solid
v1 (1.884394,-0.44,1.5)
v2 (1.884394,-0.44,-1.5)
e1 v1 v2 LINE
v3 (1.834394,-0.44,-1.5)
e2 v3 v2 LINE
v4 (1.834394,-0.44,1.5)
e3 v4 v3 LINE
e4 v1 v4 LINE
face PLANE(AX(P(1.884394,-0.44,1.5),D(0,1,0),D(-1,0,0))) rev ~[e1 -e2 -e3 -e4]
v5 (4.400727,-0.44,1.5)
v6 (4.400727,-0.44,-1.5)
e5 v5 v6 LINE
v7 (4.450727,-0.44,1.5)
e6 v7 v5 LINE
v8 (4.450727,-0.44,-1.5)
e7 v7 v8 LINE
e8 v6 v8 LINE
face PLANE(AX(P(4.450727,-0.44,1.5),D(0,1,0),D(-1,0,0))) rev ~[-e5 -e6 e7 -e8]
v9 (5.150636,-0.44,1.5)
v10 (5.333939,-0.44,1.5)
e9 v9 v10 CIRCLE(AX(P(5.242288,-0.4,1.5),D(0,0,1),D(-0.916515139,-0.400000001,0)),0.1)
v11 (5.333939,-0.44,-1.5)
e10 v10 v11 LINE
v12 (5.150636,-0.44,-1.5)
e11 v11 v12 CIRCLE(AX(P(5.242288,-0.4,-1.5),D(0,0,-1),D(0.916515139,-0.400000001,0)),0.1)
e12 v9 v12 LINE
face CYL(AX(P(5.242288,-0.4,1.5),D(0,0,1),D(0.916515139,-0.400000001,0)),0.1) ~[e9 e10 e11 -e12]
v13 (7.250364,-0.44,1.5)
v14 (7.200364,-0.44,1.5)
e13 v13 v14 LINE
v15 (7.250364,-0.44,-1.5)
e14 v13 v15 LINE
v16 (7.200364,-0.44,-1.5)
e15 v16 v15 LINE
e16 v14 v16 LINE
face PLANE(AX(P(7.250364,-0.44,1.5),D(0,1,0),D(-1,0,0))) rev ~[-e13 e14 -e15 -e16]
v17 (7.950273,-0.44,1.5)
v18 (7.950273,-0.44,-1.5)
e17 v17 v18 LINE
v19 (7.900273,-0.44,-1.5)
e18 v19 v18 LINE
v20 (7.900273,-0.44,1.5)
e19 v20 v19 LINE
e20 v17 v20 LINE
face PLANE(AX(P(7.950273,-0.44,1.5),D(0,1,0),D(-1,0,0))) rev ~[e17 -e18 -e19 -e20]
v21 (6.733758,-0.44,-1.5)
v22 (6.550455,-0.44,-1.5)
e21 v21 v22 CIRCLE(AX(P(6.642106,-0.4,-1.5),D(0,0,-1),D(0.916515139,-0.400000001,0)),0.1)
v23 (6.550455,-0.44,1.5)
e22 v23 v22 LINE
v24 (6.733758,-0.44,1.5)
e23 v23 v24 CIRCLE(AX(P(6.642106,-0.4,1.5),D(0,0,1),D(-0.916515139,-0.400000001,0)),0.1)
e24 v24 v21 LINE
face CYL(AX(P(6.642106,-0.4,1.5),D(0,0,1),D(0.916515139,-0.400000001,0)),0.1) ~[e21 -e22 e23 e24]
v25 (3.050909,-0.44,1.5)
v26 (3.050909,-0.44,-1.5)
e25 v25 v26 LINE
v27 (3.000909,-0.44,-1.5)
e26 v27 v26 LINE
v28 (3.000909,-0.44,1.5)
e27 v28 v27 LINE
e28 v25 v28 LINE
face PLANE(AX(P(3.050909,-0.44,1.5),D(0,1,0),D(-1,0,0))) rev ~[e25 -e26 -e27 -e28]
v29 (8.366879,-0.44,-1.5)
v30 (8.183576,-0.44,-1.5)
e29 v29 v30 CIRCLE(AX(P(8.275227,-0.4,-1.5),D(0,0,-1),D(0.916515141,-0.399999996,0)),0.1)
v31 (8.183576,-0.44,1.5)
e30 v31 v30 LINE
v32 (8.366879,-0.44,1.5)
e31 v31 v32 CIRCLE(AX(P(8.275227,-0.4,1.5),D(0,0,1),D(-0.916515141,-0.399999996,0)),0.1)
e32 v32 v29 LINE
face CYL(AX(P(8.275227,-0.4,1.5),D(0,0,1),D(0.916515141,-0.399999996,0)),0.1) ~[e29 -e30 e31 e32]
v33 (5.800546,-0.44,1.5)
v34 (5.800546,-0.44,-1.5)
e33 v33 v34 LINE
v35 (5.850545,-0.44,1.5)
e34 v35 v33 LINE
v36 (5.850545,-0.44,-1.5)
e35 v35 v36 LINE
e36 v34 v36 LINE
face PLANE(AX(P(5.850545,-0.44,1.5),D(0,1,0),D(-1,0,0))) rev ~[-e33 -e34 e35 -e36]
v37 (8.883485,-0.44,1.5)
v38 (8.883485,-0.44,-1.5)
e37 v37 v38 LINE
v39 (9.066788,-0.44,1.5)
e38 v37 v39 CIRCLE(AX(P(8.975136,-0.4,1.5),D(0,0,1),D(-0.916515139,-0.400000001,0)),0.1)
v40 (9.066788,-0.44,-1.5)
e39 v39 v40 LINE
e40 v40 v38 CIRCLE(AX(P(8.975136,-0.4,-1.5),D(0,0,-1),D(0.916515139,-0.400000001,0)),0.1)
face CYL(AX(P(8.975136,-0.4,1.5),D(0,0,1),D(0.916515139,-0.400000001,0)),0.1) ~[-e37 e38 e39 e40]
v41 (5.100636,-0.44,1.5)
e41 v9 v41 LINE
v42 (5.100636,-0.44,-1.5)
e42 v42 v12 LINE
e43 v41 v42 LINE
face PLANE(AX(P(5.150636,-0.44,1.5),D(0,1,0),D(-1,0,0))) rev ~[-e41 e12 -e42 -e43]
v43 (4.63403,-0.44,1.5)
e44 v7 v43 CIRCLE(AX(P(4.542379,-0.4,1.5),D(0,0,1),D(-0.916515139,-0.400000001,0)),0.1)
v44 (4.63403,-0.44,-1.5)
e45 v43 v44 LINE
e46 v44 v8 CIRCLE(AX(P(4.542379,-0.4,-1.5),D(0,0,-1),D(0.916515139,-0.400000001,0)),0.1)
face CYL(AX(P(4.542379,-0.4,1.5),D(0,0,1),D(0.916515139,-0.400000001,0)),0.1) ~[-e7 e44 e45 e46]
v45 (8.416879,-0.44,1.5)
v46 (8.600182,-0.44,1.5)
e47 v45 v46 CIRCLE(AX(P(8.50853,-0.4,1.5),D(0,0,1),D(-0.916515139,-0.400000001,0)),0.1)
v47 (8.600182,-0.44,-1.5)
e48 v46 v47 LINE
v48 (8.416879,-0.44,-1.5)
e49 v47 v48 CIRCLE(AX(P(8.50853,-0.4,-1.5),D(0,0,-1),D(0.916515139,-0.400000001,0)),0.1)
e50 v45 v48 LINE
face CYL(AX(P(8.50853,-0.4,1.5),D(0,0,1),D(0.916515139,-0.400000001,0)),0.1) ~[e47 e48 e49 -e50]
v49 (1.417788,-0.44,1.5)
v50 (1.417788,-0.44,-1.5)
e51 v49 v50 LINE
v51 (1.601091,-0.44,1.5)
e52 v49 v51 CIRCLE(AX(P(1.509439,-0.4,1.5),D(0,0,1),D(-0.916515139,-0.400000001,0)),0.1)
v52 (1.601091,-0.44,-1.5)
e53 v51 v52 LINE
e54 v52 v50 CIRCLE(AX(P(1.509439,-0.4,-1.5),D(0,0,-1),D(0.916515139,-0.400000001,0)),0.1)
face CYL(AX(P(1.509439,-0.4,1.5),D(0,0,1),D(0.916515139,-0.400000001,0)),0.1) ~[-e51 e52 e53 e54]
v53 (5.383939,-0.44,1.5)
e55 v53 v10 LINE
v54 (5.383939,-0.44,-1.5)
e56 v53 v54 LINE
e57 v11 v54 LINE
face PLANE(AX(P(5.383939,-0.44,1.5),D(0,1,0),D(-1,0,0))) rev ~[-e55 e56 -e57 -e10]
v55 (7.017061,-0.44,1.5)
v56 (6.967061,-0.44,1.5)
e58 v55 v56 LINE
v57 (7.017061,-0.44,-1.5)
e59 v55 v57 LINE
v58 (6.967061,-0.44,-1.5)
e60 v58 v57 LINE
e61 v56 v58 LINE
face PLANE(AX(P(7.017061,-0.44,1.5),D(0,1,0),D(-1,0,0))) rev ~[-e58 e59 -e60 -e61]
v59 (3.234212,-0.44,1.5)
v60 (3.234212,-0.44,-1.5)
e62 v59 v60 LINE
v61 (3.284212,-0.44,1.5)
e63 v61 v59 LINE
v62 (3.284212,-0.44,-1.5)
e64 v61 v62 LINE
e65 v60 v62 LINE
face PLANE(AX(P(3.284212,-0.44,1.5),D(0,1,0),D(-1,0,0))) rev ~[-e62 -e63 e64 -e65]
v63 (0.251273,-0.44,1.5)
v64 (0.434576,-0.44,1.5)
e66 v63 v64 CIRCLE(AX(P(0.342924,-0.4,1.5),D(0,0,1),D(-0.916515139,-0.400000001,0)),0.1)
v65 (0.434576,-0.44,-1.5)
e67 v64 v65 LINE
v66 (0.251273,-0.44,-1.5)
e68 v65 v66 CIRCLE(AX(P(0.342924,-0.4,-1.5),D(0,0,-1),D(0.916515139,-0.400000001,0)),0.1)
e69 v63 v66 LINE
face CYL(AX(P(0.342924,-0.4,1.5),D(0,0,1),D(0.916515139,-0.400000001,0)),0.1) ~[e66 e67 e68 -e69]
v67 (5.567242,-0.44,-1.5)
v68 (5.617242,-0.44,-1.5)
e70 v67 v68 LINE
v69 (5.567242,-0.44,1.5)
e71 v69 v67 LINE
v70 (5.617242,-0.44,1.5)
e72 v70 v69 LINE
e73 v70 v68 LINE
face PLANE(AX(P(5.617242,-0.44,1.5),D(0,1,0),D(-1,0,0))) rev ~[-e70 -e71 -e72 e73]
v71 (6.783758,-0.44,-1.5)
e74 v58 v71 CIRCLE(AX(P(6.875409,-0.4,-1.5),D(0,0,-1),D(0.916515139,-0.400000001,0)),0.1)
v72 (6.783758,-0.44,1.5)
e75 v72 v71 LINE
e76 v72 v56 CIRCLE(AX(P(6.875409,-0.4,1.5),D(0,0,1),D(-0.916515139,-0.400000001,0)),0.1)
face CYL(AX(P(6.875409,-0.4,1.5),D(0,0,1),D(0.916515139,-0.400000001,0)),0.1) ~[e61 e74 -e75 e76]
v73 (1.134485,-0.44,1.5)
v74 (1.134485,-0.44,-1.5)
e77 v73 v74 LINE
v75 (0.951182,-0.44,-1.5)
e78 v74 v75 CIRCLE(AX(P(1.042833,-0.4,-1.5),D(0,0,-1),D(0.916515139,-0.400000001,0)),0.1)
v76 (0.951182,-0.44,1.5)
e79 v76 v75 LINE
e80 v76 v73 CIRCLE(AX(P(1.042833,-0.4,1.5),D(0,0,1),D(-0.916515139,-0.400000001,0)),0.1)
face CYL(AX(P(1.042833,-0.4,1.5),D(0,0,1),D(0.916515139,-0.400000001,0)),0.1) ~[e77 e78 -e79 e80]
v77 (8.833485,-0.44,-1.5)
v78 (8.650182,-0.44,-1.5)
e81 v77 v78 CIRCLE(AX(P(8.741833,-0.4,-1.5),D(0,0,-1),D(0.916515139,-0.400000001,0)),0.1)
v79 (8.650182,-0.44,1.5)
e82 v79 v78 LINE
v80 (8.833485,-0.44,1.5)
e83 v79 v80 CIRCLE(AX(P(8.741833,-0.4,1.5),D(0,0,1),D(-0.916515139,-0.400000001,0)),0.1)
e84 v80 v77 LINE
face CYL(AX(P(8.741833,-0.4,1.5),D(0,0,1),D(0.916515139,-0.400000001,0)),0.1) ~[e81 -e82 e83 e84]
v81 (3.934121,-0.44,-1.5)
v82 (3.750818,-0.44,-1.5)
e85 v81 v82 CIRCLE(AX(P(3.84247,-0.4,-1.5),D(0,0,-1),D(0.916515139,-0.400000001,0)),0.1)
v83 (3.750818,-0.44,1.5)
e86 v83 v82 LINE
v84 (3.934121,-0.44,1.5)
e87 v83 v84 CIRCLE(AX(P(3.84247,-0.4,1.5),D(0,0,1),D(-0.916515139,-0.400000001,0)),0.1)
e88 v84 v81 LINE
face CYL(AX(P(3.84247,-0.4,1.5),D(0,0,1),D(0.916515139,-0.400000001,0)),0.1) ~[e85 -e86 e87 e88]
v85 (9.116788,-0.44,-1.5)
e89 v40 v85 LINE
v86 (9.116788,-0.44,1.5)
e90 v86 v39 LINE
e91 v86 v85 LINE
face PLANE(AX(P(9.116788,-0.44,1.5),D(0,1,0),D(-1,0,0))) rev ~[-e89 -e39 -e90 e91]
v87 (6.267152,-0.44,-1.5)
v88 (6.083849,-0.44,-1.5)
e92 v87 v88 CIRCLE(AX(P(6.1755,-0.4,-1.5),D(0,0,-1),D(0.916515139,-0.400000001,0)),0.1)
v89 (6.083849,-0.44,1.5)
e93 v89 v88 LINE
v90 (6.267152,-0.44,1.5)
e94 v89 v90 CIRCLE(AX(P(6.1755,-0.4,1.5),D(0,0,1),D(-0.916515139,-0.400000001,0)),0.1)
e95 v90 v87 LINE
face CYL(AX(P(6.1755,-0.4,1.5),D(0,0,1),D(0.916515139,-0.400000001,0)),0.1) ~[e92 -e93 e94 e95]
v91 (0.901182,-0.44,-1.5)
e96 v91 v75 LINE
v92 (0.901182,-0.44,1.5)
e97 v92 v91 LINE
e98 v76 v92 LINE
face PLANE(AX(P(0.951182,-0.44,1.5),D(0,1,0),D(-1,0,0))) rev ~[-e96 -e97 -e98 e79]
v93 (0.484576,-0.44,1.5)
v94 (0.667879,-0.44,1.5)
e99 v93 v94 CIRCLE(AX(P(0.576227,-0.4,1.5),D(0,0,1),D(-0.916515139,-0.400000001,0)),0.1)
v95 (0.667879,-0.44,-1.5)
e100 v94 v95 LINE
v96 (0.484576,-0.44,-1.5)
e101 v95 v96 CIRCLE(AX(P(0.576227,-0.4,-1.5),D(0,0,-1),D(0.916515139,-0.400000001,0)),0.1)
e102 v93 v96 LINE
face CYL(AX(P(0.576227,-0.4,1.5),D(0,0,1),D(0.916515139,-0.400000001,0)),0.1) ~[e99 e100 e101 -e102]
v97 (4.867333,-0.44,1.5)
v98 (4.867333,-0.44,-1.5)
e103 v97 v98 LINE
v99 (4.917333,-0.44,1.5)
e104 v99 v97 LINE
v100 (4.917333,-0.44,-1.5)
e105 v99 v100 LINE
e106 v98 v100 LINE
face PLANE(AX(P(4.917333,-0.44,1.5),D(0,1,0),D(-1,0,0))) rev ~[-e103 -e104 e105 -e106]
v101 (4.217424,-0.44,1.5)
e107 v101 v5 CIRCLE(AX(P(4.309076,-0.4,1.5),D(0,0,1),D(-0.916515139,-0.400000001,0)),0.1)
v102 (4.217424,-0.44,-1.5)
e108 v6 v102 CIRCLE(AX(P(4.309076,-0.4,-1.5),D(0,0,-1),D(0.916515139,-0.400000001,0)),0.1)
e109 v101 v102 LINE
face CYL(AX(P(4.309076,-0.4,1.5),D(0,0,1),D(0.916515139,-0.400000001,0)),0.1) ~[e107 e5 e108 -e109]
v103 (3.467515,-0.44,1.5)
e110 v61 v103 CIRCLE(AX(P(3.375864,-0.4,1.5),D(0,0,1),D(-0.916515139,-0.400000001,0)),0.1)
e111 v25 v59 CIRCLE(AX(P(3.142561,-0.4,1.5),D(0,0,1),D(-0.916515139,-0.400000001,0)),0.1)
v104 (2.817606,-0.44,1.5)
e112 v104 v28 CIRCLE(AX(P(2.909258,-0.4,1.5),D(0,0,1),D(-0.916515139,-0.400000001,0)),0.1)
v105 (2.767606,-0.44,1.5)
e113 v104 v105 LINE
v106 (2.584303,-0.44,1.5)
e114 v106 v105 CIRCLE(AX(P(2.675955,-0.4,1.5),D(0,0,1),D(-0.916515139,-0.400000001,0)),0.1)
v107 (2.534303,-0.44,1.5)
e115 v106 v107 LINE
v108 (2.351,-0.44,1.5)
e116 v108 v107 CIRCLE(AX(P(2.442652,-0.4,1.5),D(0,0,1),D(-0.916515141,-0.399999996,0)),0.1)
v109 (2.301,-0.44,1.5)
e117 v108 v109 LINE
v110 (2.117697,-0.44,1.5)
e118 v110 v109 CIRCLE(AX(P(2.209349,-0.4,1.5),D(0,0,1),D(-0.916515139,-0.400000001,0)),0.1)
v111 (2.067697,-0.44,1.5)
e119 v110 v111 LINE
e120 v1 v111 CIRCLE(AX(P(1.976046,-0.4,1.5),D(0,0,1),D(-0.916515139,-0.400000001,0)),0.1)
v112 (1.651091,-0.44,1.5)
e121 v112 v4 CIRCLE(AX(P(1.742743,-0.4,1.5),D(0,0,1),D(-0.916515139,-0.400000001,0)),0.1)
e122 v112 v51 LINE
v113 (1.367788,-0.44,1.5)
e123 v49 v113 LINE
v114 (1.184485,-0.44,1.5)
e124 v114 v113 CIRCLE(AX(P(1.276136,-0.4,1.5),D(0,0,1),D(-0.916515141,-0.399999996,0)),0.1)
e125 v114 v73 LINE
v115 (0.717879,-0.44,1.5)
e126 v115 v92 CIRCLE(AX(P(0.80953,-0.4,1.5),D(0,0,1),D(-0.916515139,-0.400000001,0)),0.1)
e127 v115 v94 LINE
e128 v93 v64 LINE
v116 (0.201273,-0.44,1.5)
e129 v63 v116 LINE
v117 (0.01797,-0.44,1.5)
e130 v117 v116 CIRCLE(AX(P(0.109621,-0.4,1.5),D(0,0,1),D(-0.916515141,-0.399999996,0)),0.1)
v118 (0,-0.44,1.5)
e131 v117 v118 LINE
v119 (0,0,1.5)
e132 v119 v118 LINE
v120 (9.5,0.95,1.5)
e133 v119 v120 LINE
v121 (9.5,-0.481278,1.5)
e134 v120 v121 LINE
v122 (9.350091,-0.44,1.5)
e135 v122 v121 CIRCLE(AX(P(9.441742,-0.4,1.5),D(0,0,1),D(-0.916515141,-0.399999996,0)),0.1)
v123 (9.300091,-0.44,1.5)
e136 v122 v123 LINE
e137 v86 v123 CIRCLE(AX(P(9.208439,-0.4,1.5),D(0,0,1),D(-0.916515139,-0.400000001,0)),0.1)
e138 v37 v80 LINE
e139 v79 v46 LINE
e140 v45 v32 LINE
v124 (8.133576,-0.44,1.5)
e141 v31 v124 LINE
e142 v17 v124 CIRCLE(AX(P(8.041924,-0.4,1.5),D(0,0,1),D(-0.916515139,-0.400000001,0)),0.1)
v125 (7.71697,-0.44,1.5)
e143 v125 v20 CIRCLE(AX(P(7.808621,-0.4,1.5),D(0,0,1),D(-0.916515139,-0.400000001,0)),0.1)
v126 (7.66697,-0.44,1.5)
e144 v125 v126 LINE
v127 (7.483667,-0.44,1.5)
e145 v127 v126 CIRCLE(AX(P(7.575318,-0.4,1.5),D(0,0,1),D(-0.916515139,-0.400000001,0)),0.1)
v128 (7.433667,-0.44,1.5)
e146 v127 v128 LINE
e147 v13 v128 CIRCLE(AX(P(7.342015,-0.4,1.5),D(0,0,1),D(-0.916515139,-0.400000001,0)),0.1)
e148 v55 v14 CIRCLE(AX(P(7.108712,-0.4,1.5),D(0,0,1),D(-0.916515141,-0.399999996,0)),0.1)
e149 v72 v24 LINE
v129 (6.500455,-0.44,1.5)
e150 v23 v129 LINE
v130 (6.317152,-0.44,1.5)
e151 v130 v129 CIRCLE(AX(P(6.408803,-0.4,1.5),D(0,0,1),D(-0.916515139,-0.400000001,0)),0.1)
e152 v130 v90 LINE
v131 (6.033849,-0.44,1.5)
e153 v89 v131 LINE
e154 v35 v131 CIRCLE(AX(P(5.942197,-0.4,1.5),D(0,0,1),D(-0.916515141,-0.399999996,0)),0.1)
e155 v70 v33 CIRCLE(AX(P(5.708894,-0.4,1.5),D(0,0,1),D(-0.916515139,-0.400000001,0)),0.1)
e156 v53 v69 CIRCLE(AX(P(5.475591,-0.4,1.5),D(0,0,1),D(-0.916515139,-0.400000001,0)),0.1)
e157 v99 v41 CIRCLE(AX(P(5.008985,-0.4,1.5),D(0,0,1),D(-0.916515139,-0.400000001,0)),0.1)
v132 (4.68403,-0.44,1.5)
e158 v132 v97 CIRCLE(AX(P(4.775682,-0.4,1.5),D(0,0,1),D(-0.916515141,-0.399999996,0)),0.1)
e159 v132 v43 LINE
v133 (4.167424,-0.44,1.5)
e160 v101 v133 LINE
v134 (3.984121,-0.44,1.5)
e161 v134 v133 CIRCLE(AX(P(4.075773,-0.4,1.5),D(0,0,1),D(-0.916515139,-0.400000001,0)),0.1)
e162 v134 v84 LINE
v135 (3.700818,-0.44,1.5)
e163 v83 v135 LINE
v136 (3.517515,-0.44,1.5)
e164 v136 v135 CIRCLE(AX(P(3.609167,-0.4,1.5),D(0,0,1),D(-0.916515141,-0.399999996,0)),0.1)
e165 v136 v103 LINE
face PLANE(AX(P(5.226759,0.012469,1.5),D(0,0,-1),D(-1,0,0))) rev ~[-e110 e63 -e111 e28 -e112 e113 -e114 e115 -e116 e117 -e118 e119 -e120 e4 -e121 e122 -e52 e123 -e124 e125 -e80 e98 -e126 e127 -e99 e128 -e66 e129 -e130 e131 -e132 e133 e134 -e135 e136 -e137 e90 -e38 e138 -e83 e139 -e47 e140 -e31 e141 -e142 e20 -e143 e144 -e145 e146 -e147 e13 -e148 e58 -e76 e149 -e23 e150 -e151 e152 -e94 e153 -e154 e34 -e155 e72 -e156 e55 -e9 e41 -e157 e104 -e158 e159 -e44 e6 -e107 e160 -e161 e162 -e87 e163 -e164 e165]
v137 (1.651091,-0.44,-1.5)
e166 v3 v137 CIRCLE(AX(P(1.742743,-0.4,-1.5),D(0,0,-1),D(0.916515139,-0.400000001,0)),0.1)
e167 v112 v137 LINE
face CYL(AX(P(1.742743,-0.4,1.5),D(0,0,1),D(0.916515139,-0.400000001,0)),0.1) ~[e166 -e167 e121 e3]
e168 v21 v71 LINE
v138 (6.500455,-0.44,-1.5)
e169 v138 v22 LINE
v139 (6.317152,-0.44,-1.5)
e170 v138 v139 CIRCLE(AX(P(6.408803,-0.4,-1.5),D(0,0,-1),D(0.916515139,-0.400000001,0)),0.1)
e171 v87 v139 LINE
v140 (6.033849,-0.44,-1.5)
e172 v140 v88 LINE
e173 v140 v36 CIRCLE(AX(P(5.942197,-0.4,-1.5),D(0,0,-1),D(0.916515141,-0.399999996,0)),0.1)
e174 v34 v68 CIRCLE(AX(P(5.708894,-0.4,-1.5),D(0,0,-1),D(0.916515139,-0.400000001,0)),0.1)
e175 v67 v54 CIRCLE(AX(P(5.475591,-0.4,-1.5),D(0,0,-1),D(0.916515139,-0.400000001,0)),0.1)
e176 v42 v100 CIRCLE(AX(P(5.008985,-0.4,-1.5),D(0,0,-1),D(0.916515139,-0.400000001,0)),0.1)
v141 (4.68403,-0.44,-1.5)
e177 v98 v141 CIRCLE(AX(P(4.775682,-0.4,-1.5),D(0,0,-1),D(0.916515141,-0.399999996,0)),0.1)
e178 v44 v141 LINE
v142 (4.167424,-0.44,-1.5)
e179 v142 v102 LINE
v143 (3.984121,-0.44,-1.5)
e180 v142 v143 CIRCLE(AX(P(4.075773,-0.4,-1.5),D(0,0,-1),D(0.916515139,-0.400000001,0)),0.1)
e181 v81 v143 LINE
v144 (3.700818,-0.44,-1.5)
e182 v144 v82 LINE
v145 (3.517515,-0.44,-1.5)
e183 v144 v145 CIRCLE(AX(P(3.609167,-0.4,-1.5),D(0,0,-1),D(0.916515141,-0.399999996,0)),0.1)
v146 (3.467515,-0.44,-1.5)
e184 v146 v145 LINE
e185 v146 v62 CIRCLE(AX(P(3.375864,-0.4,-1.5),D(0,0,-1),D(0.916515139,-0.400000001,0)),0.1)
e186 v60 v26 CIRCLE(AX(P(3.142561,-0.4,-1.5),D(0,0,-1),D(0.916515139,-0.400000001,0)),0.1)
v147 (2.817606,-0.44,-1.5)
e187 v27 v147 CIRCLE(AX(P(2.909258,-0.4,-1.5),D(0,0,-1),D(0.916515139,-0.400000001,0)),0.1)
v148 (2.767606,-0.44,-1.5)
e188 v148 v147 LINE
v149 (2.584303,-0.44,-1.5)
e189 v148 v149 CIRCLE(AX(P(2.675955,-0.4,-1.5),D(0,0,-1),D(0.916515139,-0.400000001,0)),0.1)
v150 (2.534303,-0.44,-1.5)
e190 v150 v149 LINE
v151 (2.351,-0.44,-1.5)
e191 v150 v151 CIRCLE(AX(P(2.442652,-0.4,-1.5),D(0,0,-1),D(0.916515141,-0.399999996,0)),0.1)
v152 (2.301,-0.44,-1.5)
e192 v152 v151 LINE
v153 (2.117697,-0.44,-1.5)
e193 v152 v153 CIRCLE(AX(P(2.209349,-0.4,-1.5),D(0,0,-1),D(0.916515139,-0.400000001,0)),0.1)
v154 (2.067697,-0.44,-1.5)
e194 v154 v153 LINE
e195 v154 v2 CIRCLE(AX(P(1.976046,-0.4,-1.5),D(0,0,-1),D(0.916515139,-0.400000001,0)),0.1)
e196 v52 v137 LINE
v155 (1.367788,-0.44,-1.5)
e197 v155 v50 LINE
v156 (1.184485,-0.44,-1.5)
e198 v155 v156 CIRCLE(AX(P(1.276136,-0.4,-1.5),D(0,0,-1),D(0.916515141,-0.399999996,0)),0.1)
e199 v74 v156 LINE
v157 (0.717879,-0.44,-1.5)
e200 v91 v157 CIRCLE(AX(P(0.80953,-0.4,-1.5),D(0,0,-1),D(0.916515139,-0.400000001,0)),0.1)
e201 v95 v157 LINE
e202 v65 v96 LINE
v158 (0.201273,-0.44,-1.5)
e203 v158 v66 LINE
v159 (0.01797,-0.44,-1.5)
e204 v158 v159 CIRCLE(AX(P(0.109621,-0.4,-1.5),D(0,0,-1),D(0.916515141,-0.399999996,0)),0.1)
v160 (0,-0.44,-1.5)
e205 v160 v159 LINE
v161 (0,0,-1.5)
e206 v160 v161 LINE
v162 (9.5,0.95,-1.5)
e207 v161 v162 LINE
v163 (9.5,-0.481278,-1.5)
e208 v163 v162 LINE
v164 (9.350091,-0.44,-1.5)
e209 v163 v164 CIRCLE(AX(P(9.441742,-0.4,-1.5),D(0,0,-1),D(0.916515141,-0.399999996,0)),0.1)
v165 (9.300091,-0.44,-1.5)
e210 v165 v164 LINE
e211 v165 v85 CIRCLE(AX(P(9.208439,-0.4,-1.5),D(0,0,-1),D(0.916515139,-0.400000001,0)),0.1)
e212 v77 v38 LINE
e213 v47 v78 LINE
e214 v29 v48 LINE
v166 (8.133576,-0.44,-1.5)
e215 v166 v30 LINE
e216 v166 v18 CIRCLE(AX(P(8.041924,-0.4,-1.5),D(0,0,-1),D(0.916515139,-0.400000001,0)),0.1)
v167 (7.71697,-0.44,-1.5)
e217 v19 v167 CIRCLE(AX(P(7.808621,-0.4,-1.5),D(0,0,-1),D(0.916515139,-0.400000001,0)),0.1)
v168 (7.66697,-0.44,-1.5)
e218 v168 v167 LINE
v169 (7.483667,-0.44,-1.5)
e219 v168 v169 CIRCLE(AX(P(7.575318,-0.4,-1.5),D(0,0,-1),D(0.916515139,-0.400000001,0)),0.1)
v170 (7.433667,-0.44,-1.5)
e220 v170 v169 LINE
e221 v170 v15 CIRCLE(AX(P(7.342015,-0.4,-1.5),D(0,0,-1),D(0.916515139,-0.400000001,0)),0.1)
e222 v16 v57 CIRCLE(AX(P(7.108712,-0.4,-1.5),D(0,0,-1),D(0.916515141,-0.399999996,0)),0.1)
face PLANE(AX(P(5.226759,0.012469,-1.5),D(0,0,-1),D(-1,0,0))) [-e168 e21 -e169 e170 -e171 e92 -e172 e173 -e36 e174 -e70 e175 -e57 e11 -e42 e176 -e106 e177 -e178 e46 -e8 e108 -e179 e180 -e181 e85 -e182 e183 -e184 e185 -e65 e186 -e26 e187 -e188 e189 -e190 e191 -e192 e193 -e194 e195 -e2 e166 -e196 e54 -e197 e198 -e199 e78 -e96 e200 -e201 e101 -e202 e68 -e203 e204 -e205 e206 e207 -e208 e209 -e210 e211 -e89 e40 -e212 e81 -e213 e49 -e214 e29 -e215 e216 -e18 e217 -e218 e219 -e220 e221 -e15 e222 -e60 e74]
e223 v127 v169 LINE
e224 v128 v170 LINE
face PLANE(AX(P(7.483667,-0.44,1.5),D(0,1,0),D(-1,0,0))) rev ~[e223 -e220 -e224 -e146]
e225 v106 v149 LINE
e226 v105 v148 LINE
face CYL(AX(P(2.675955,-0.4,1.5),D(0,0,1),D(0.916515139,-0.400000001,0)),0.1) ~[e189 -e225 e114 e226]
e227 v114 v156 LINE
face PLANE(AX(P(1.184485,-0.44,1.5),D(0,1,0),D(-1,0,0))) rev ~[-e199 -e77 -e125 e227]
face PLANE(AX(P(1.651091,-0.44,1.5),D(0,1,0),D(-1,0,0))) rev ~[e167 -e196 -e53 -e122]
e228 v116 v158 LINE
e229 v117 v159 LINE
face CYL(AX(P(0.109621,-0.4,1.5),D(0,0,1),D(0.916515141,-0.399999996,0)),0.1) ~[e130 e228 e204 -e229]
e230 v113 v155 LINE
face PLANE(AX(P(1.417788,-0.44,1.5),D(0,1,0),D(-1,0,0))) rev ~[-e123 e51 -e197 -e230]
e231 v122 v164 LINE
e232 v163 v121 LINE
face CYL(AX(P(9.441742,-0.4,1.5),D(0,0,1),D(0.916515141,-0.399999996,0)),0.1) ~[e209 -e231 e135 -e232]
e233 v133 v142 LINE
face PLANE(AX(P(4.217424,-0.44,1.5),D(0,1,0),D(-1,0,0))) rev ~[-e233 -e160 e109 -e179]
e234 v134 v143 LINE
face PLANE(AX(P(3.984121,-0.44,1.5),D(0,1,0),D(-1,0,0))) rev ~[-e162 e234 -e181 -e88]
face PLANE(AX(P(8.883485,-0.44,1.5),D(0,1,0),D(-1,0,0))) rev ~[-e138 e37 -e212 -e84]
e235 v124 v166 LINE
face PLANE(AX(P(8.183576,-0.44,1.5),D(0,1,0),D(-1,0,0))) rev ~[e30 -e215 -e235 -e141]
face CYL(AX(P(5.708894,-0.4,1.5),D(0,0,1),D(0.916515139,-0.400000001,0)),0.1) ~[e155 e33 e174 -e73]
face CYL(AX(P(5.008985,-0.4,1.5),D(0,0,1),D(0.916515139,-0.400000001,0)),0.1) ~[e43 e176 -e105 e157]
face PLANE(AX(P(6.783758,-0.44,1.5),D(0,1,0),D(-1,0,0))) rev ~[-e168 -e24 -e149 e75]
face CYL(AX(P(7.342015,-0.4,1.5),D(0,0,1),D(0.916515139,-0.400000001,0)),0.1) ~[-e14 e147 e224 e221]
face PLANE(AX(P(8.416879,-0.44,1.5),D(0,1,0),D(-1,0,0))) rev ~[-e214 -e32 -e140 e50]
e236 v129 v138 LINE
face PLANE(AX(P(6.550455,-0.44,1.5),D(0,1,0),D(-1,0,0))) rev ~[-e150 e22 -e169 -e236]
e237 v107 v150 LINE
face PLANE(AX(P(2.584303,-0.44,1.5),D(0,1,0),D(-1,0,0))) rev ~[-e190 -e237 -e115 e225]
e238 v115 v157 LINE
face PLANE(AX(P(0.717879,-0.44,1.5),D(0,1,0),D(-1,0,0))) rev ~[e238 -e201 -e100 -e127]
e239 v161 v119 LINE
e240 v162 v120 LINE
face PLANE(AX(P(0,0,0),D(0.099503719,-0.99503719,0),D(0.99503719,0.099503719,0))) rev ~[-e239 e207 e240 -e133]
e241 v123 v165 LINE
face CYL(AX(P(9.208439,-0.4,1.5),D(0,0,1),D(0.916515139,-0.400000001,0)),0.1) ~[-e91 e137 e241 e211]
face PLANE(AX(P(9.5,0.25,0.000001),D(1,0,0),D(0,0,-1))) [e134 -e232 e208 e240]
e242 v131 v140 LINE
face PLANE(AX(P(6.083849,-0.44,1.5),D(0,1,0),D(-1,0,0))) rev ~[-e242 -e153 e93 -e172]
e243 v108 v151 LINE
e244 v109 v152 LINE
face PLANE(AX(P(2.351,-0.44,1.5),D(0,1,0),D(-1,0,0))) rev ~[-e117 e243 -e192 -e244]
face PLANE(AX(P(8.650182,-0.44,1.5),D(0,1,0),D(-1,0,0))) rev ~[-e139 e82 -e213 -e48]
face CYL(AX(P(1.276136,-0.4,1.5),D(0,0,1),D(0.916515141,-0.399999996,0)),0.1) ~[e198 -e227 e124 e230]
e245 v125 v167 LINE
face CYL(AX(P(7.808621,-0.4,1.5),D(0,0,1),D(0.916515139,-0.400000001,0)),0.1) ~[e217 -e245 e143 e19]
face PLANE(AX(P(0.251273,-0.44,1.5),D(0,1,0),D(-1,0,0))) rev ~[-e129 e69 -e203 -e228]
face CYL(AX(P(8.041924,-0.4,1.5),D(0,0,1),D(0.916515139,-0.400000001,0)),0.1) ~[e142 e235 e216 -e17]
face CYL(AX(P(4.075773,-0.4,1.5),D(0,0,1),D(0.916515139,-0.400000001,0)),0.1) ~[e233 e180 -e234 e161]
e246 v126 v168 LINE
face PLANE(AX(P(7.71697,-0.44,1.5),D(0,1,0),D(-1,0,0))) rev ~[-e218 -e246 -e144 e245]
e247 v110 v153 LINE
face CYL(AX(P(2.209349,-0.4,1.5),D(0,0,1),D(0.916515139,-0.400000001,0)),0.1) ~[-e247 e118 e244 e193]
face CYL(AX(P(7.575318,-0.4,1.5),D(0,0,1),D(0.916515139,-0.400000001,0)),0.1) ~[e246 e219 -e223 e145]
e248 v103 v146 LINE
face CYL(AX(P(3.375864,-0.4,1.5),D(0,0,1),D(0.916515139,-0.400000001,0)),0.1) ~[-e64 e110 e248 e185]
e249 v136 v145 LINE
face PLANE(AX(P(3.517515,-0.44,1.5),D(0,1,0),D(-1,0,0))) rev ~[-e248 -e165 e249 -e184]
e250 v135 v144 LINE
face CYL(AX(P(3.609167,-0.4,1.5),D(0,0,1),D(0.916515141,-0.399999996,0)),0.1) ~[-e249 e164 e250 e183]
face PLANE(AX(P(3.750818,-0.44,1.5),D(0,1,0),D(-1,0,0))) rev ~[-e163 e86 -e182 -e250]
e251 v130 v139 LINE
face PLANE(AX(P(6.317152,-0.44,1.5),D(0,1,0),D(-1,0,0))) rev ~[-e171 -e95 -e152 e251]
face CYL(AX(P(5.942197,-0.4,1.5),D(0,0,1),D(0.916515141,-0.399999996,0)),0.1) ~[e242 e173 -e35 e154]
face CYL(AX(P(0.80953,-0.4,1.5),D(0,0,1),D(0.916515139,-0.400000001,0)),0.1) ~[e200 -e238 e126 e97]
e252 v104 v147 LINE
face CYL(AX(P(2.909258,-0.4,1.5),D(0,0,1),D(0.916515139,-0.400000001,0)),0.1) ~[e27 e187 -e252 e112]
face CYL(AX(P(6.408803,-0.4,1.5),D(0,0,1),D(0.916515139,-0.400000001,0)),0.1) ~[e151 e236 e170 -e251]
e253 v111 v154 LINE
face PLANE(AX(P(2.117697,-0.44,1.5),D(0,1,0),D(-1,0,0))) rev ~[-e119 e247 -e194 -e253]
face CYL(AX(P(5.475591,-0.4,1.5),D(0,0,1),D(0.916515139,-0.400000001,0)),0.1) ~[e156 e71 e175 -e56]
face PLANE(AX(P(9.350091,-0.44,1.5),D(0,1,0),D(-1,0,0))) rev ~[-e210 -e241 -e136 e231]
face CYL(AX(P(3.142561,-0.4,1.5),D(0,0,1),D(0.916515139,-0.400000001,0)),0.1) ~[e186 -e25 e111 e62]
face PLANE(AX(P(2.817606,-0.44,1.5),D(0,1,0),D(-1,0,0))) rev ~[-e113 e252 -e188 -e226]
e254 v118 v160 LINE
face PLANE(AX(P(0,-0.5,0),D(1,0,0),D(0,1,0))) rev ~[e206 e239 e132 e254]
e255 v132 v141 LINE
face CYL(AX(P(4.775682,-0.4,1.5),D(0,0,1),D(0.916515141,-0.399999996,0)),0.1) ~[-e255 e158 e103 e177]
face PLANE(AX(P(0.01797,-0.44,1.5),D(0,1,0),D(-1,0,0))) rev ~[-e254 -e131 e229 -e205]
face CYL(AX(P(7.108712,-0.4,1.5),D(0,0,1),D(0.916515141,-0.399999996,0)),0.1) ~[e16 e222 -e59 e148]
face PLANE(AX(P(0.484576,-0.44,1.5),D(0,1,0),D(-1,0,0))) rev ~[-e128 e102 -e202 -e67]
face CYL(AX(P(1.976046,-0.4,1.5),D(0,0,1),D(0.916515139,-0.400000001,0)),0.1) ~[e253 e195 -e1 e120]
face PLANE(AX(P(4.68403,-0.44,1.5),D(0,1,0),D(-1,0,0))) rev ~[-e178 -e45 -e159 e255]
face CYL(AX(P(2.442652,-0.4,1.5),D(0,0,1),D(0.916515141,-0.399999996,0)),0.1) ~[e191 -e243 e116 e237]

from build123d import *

# Parameters (mm, degrees)
BOSS_EXTRUDE1_DEPTH     = 1.5
SKETCH2_OUTSIDE_W       = 14.11
SKETCH2_OUTSIDE_H       = 5.61
CUT_EXTRUDE1_DEPTH      = 1
CUT_EXTRUDE1_DEPTH_BACK = 4
CUT_EXTRUDE2_DEPTH      = 0.5


with BuildPart() as part:
    # Sketch1 → Boss-Extrude1 (new body, symmetric)
    with BuildSketch(Plane.XY):
        Polygon((0, 0), (10, 1), (10, -0.5), (0, -0.5), align=None)
    extrude(amount=BOSS_EXTRUDE1_DEPTH, both=True)

    # Sketch2 outside → Cut-Extrude1 (cut, two sides)
    with BuildSketch(Plane.XY.offset(1.5)) as cut_extrude1_sk:
        with Locations((5, 0.25)):
            Rectangle(SKETCH2_OUTSIDE_W, SKETCH2_OUTSIDE_H)
        with BuildLine():
            Line((9.816696972, -0.44), (9.766696972, -0.44))
            ThreePointArc((9.766696972, -0.44), (9.675045458, -0.5), (9.583393944, -0.44))
            Line((9.583393944, -0.44), (9.533393944, -0.44))
            ThreePointArc((9.533393944, -0.44), (9.441742431, -0.5), (9.350090917, -0.44))
            Line((9.350090917, -0.44), (9.300090917, -0.44))
            ThreePointArc((9.300090917, -0.44), (9.208439403, -0.5), (9.116787889, -0.44))
            Line((9.116787889, -0.44), (9.066787889, -0.44))
            ThreePointArc((9.066787889, -0.44), (8.975136375, -0.5), (8.883484861, -0.44))
            Line((8.883484861, -0.44), (8.833484861, -0.44))
            ThreePointArc((8.833484861, -0.44), (8.741833347, -0.5), (8.650181833, -0.44))
            Line((8.650181833, -0.44), (8.600181833, -0.44))
            ThreePointArc((8.600181833, -0.44), (8.508530319, -0.5), (8.416878805, -0.44))
            Line((8.416878805, -0.44), (8.366878805, -0.44))
            ThreePointArc((8.366878805, -0.44), (8.275227292, -0.5), (8.183575778, -0.44))
            Line((8.183575778, -0.44), (8.133575778, -0.44))
            ThreePointArc((8.133575778, -0.44), (8.041924264, -0.5), (7.95027275, -0.44))
            Line((7.95027275, -0.44), (7.90027275, -0.44))
            ThreePointArc((7.90027275, -0.44), (7.808621236, -0.5), (7.716969722, -0.44))
            Line((7.716969722, -0.44), (7.666969722, -0.44))
            ThreePointArc((7.666969722, -0.44), (7.575318208, -0.5), (7.483666694, -0.44))
            Line((7.483666694, -0.44), (7.433666694, -0.44))
            ThreePointArc((7.433666694, -0.44), (7.34201518, -0.5), (7.250363666, -0.44))
            Line((7.250363666, -0.44), (7.200363666, -0.44))
            ThreePointArc((7.200363666, -0.44), (7.108712153, -0.5), (7.017060639, -0.44))
            Line((7.017060639, -0.44), (6.967060639, -0.44))
            ThreePointArc((6.967060639, -0.44), (6.875409125, -0.5), (6.783757611, -0.44))
            Line((6.783757611, -0.44), (6.733757611, -0.44))
            ThreePointArc((6.733757611, -0.44), (6.642106097, -0.5), (6.550454583, -0.44))
            Line((6.550454583, -0.44), (6.500454583, -0.44))
            ThreePointArc((6.500454583, -0.44), (6.408803069, -0.5), (6.317151555, -0.44))
            Line((6.317151555, -0.44), (6.267151555, -0.44))
            ThreePointArc((6.267151555, -0.44), (6.175500041, -0.5), (6.083848527, -0.44))
            Line((6.083848527, -0.44), (6.033848527, -0.44))
            ThreePointArc((6.033848527, -0.44), (5.942197014, -0.5), (5.8505455, -0.44))
            Line((5.8505455, -0.44), (5.8005455, -0.44))
            ThreePointArc((5.8005455, -0.44), (5.708893986, -0.5), (5.617242472, -0.44))
            Line((5.617242472, -0.44), (5.567242472, -0.44))
            ThreePointArc((5.567242472, -0.44), (5.475590958, -0.5), (5.383939444, -0.44))
            Line((5.383939444, -0.44), (5.333939444, -0.44))
            ThreePointArc((5.333939444, -0.44), (5.24228793, -0.5), (5.150636416, -0.44))
            Line((5.150636416, -0.44), (5.100636416, -0.44))
            ThreePointArc((5.100636416, -0.44), (5.008984902, -0.5), (4.917333388, -0.44))
            Line((4.917333388, -0.44), (4.867333388, -0.44))
            ThreePointArc((4.867333388, -0.44), (4.775681875, -0.5), (4.684030361, -0.44))
            Line((4.684030361, -0.44), (4.634030361, -0.44))
            ThreePointArc((4.634030361, -0.44), (4.542378847, -0.5), (4.450727333, -0.44))
            Line((4.450727333, -0.44), (4.400727333, -0.44))
            ThreePointArc((4.400727333, -0.44), (4.309075819, -0.5), (4.217424305, -0.44))
            Line((4.217424305, -0.44), (4.167424305, -0.44))
            ThreePointArc((4.167424305, -0.44), (4.075772791, -0.5), (3.984121277, -0.44))
            Line((3.984121277, -0.44), (3.934121277, -0.44))
            ThreePointArc((3.934121277, -0.44), (3.842469763, -0.5), (3.750818249, -0.44))
            Line((3.750818249, -0.44), (3.700818249, -0.44))
            ThreePointArc((3.700818249, -0.44), (3.609166736, -0.5), (3.517515222, -0.44))
            Line((3.517515222, -0.44), (3.467515222, -0.44))
            ThreePointArc((3.467515222, -0.44), (3.375863708, -0.5), (3.284212194, -0.44))
            Line((3.284212194, -0.44), (3.234212194, -0.44))
            ThreePointArc((3.234212194, -0.44), (3.14256068, -0.5), (3.050909166, -0.44))
            Line((3.050909166, -0.44), (3.000909166, -0.44))
            ThreePointArc((3.000909166, -0.44), (2.909257652, -0.5), (2.817606138, -0.44))
            Line((2.817606138, -0.44), (2.767606138, -0.44))
            ThreePointArc((2.767606138, -0.44), (2.675954624, -0.5), (2.58430311, -0.44))
            Line((2.58430311, -0.44), (2.53430311, -0.44))
            ThreePointArc((2.53430311, -0.44), (2.442651597, -0.5), (2.351000083, -0.44))
            Line((2.351000083, -0.44), (2.301000083, -0.44))
            ThreePointArc((2.301000083, -0.44), (2.209348569, -0.5), (2.117697055, -0.44))
            Line((2.117697055, -0.44), (2.067697055, -0.44))
            ThreePointArc((2.067697055, -0.44), (1.976045541, -0.5), (1.884394027, -0.44))
            Line((1.884394027, -0.44), (1.834394027, -0.44))
            ThreePointArc((1.834394027, -0.44), (1.742742513, -0.5), (1.651090999, -0.44))
            Line((1.651090999, -0.44), (1.601090999, -0.44))
            ThreePointArc((1.601090999, -0.44), (1.509439485, -0.5), (1.417787971, -0.44))
            Line((1.417787971, -0.44), (1.367787971, -0.44))
            ThreePointArc((1.367787971, -0.44), (1.276136458, -0.5), (1.184484944, -0.44))
            Line((1.184484944, -0.44), (1.134484944, -0.44))
            ThreePointArc((1.134484944, -0.44), (1.04283343, -0.5), (0.951181916, -0.44))
            Line((0.951181916, -0.44), (0.901181916, -0.44))
            ThreePointArc((0.901181916, -0.44), (0.809530402, -0.5), (0.717878888, -0.44))
            Line((0.717878888, -0.44), (0.667878888, -0.44))
            ThreePointArc((0.667878888, -0.44), (0.576227374, -0.5), (0.48457586, -0.44))
            Line((0.48457586, -0.44), (0.43457586, -0.44))
            ThreePointArc((0.43457586, -0.44), (0.342924346, -0.5), (0.251272832, -0.44))
            Line((0.251272832, -0.44), (0.201272832, -0.44))
            ThreePointArc((0.201272832, -0.44), (0.109621319, -0.5), (0.017969805, -0.44))
            Line((0.017969805, -0.44), (0, -0.44))
            Line((0, -0.44), (0, 0))
            Line((0, 0), (10, 1))
            Line((10, 1), (10, -0.44))
            ThreePointArc((10, -0.44), (9.908348486, -0.5), (9.816696972, -0.44))
        make_face(mode=Mode.SUBTRACT)
    extrude(amount=CUT_EXTRUDE1_DEPTH, mode=Mode.SUBTRACT)
    extrude(cut_extrude1_sk.sketch, amount=-CUT_EXTRUDE1_DEPTH_BACK, mode=Mode.SUBTRACT)

    # Sketch4 → Cut-Extrude2 (cut)
    with BuildSketch(Plane(origin=(10, 0, 0), x_dir=(0, 0, -1), z_dir=(1, 0, 0))):
        Polygon((-1.5, -0.5), (1.5, -0.5), (1.5, -0.44), (1.5, 1), (-1.5, 1), (-1.500006, -0.44), align=None)
    extrude(amount=-CUT_EXTRUDE2_DEPTH, mode=Mode.SUBTRACT)


solid = part.part
